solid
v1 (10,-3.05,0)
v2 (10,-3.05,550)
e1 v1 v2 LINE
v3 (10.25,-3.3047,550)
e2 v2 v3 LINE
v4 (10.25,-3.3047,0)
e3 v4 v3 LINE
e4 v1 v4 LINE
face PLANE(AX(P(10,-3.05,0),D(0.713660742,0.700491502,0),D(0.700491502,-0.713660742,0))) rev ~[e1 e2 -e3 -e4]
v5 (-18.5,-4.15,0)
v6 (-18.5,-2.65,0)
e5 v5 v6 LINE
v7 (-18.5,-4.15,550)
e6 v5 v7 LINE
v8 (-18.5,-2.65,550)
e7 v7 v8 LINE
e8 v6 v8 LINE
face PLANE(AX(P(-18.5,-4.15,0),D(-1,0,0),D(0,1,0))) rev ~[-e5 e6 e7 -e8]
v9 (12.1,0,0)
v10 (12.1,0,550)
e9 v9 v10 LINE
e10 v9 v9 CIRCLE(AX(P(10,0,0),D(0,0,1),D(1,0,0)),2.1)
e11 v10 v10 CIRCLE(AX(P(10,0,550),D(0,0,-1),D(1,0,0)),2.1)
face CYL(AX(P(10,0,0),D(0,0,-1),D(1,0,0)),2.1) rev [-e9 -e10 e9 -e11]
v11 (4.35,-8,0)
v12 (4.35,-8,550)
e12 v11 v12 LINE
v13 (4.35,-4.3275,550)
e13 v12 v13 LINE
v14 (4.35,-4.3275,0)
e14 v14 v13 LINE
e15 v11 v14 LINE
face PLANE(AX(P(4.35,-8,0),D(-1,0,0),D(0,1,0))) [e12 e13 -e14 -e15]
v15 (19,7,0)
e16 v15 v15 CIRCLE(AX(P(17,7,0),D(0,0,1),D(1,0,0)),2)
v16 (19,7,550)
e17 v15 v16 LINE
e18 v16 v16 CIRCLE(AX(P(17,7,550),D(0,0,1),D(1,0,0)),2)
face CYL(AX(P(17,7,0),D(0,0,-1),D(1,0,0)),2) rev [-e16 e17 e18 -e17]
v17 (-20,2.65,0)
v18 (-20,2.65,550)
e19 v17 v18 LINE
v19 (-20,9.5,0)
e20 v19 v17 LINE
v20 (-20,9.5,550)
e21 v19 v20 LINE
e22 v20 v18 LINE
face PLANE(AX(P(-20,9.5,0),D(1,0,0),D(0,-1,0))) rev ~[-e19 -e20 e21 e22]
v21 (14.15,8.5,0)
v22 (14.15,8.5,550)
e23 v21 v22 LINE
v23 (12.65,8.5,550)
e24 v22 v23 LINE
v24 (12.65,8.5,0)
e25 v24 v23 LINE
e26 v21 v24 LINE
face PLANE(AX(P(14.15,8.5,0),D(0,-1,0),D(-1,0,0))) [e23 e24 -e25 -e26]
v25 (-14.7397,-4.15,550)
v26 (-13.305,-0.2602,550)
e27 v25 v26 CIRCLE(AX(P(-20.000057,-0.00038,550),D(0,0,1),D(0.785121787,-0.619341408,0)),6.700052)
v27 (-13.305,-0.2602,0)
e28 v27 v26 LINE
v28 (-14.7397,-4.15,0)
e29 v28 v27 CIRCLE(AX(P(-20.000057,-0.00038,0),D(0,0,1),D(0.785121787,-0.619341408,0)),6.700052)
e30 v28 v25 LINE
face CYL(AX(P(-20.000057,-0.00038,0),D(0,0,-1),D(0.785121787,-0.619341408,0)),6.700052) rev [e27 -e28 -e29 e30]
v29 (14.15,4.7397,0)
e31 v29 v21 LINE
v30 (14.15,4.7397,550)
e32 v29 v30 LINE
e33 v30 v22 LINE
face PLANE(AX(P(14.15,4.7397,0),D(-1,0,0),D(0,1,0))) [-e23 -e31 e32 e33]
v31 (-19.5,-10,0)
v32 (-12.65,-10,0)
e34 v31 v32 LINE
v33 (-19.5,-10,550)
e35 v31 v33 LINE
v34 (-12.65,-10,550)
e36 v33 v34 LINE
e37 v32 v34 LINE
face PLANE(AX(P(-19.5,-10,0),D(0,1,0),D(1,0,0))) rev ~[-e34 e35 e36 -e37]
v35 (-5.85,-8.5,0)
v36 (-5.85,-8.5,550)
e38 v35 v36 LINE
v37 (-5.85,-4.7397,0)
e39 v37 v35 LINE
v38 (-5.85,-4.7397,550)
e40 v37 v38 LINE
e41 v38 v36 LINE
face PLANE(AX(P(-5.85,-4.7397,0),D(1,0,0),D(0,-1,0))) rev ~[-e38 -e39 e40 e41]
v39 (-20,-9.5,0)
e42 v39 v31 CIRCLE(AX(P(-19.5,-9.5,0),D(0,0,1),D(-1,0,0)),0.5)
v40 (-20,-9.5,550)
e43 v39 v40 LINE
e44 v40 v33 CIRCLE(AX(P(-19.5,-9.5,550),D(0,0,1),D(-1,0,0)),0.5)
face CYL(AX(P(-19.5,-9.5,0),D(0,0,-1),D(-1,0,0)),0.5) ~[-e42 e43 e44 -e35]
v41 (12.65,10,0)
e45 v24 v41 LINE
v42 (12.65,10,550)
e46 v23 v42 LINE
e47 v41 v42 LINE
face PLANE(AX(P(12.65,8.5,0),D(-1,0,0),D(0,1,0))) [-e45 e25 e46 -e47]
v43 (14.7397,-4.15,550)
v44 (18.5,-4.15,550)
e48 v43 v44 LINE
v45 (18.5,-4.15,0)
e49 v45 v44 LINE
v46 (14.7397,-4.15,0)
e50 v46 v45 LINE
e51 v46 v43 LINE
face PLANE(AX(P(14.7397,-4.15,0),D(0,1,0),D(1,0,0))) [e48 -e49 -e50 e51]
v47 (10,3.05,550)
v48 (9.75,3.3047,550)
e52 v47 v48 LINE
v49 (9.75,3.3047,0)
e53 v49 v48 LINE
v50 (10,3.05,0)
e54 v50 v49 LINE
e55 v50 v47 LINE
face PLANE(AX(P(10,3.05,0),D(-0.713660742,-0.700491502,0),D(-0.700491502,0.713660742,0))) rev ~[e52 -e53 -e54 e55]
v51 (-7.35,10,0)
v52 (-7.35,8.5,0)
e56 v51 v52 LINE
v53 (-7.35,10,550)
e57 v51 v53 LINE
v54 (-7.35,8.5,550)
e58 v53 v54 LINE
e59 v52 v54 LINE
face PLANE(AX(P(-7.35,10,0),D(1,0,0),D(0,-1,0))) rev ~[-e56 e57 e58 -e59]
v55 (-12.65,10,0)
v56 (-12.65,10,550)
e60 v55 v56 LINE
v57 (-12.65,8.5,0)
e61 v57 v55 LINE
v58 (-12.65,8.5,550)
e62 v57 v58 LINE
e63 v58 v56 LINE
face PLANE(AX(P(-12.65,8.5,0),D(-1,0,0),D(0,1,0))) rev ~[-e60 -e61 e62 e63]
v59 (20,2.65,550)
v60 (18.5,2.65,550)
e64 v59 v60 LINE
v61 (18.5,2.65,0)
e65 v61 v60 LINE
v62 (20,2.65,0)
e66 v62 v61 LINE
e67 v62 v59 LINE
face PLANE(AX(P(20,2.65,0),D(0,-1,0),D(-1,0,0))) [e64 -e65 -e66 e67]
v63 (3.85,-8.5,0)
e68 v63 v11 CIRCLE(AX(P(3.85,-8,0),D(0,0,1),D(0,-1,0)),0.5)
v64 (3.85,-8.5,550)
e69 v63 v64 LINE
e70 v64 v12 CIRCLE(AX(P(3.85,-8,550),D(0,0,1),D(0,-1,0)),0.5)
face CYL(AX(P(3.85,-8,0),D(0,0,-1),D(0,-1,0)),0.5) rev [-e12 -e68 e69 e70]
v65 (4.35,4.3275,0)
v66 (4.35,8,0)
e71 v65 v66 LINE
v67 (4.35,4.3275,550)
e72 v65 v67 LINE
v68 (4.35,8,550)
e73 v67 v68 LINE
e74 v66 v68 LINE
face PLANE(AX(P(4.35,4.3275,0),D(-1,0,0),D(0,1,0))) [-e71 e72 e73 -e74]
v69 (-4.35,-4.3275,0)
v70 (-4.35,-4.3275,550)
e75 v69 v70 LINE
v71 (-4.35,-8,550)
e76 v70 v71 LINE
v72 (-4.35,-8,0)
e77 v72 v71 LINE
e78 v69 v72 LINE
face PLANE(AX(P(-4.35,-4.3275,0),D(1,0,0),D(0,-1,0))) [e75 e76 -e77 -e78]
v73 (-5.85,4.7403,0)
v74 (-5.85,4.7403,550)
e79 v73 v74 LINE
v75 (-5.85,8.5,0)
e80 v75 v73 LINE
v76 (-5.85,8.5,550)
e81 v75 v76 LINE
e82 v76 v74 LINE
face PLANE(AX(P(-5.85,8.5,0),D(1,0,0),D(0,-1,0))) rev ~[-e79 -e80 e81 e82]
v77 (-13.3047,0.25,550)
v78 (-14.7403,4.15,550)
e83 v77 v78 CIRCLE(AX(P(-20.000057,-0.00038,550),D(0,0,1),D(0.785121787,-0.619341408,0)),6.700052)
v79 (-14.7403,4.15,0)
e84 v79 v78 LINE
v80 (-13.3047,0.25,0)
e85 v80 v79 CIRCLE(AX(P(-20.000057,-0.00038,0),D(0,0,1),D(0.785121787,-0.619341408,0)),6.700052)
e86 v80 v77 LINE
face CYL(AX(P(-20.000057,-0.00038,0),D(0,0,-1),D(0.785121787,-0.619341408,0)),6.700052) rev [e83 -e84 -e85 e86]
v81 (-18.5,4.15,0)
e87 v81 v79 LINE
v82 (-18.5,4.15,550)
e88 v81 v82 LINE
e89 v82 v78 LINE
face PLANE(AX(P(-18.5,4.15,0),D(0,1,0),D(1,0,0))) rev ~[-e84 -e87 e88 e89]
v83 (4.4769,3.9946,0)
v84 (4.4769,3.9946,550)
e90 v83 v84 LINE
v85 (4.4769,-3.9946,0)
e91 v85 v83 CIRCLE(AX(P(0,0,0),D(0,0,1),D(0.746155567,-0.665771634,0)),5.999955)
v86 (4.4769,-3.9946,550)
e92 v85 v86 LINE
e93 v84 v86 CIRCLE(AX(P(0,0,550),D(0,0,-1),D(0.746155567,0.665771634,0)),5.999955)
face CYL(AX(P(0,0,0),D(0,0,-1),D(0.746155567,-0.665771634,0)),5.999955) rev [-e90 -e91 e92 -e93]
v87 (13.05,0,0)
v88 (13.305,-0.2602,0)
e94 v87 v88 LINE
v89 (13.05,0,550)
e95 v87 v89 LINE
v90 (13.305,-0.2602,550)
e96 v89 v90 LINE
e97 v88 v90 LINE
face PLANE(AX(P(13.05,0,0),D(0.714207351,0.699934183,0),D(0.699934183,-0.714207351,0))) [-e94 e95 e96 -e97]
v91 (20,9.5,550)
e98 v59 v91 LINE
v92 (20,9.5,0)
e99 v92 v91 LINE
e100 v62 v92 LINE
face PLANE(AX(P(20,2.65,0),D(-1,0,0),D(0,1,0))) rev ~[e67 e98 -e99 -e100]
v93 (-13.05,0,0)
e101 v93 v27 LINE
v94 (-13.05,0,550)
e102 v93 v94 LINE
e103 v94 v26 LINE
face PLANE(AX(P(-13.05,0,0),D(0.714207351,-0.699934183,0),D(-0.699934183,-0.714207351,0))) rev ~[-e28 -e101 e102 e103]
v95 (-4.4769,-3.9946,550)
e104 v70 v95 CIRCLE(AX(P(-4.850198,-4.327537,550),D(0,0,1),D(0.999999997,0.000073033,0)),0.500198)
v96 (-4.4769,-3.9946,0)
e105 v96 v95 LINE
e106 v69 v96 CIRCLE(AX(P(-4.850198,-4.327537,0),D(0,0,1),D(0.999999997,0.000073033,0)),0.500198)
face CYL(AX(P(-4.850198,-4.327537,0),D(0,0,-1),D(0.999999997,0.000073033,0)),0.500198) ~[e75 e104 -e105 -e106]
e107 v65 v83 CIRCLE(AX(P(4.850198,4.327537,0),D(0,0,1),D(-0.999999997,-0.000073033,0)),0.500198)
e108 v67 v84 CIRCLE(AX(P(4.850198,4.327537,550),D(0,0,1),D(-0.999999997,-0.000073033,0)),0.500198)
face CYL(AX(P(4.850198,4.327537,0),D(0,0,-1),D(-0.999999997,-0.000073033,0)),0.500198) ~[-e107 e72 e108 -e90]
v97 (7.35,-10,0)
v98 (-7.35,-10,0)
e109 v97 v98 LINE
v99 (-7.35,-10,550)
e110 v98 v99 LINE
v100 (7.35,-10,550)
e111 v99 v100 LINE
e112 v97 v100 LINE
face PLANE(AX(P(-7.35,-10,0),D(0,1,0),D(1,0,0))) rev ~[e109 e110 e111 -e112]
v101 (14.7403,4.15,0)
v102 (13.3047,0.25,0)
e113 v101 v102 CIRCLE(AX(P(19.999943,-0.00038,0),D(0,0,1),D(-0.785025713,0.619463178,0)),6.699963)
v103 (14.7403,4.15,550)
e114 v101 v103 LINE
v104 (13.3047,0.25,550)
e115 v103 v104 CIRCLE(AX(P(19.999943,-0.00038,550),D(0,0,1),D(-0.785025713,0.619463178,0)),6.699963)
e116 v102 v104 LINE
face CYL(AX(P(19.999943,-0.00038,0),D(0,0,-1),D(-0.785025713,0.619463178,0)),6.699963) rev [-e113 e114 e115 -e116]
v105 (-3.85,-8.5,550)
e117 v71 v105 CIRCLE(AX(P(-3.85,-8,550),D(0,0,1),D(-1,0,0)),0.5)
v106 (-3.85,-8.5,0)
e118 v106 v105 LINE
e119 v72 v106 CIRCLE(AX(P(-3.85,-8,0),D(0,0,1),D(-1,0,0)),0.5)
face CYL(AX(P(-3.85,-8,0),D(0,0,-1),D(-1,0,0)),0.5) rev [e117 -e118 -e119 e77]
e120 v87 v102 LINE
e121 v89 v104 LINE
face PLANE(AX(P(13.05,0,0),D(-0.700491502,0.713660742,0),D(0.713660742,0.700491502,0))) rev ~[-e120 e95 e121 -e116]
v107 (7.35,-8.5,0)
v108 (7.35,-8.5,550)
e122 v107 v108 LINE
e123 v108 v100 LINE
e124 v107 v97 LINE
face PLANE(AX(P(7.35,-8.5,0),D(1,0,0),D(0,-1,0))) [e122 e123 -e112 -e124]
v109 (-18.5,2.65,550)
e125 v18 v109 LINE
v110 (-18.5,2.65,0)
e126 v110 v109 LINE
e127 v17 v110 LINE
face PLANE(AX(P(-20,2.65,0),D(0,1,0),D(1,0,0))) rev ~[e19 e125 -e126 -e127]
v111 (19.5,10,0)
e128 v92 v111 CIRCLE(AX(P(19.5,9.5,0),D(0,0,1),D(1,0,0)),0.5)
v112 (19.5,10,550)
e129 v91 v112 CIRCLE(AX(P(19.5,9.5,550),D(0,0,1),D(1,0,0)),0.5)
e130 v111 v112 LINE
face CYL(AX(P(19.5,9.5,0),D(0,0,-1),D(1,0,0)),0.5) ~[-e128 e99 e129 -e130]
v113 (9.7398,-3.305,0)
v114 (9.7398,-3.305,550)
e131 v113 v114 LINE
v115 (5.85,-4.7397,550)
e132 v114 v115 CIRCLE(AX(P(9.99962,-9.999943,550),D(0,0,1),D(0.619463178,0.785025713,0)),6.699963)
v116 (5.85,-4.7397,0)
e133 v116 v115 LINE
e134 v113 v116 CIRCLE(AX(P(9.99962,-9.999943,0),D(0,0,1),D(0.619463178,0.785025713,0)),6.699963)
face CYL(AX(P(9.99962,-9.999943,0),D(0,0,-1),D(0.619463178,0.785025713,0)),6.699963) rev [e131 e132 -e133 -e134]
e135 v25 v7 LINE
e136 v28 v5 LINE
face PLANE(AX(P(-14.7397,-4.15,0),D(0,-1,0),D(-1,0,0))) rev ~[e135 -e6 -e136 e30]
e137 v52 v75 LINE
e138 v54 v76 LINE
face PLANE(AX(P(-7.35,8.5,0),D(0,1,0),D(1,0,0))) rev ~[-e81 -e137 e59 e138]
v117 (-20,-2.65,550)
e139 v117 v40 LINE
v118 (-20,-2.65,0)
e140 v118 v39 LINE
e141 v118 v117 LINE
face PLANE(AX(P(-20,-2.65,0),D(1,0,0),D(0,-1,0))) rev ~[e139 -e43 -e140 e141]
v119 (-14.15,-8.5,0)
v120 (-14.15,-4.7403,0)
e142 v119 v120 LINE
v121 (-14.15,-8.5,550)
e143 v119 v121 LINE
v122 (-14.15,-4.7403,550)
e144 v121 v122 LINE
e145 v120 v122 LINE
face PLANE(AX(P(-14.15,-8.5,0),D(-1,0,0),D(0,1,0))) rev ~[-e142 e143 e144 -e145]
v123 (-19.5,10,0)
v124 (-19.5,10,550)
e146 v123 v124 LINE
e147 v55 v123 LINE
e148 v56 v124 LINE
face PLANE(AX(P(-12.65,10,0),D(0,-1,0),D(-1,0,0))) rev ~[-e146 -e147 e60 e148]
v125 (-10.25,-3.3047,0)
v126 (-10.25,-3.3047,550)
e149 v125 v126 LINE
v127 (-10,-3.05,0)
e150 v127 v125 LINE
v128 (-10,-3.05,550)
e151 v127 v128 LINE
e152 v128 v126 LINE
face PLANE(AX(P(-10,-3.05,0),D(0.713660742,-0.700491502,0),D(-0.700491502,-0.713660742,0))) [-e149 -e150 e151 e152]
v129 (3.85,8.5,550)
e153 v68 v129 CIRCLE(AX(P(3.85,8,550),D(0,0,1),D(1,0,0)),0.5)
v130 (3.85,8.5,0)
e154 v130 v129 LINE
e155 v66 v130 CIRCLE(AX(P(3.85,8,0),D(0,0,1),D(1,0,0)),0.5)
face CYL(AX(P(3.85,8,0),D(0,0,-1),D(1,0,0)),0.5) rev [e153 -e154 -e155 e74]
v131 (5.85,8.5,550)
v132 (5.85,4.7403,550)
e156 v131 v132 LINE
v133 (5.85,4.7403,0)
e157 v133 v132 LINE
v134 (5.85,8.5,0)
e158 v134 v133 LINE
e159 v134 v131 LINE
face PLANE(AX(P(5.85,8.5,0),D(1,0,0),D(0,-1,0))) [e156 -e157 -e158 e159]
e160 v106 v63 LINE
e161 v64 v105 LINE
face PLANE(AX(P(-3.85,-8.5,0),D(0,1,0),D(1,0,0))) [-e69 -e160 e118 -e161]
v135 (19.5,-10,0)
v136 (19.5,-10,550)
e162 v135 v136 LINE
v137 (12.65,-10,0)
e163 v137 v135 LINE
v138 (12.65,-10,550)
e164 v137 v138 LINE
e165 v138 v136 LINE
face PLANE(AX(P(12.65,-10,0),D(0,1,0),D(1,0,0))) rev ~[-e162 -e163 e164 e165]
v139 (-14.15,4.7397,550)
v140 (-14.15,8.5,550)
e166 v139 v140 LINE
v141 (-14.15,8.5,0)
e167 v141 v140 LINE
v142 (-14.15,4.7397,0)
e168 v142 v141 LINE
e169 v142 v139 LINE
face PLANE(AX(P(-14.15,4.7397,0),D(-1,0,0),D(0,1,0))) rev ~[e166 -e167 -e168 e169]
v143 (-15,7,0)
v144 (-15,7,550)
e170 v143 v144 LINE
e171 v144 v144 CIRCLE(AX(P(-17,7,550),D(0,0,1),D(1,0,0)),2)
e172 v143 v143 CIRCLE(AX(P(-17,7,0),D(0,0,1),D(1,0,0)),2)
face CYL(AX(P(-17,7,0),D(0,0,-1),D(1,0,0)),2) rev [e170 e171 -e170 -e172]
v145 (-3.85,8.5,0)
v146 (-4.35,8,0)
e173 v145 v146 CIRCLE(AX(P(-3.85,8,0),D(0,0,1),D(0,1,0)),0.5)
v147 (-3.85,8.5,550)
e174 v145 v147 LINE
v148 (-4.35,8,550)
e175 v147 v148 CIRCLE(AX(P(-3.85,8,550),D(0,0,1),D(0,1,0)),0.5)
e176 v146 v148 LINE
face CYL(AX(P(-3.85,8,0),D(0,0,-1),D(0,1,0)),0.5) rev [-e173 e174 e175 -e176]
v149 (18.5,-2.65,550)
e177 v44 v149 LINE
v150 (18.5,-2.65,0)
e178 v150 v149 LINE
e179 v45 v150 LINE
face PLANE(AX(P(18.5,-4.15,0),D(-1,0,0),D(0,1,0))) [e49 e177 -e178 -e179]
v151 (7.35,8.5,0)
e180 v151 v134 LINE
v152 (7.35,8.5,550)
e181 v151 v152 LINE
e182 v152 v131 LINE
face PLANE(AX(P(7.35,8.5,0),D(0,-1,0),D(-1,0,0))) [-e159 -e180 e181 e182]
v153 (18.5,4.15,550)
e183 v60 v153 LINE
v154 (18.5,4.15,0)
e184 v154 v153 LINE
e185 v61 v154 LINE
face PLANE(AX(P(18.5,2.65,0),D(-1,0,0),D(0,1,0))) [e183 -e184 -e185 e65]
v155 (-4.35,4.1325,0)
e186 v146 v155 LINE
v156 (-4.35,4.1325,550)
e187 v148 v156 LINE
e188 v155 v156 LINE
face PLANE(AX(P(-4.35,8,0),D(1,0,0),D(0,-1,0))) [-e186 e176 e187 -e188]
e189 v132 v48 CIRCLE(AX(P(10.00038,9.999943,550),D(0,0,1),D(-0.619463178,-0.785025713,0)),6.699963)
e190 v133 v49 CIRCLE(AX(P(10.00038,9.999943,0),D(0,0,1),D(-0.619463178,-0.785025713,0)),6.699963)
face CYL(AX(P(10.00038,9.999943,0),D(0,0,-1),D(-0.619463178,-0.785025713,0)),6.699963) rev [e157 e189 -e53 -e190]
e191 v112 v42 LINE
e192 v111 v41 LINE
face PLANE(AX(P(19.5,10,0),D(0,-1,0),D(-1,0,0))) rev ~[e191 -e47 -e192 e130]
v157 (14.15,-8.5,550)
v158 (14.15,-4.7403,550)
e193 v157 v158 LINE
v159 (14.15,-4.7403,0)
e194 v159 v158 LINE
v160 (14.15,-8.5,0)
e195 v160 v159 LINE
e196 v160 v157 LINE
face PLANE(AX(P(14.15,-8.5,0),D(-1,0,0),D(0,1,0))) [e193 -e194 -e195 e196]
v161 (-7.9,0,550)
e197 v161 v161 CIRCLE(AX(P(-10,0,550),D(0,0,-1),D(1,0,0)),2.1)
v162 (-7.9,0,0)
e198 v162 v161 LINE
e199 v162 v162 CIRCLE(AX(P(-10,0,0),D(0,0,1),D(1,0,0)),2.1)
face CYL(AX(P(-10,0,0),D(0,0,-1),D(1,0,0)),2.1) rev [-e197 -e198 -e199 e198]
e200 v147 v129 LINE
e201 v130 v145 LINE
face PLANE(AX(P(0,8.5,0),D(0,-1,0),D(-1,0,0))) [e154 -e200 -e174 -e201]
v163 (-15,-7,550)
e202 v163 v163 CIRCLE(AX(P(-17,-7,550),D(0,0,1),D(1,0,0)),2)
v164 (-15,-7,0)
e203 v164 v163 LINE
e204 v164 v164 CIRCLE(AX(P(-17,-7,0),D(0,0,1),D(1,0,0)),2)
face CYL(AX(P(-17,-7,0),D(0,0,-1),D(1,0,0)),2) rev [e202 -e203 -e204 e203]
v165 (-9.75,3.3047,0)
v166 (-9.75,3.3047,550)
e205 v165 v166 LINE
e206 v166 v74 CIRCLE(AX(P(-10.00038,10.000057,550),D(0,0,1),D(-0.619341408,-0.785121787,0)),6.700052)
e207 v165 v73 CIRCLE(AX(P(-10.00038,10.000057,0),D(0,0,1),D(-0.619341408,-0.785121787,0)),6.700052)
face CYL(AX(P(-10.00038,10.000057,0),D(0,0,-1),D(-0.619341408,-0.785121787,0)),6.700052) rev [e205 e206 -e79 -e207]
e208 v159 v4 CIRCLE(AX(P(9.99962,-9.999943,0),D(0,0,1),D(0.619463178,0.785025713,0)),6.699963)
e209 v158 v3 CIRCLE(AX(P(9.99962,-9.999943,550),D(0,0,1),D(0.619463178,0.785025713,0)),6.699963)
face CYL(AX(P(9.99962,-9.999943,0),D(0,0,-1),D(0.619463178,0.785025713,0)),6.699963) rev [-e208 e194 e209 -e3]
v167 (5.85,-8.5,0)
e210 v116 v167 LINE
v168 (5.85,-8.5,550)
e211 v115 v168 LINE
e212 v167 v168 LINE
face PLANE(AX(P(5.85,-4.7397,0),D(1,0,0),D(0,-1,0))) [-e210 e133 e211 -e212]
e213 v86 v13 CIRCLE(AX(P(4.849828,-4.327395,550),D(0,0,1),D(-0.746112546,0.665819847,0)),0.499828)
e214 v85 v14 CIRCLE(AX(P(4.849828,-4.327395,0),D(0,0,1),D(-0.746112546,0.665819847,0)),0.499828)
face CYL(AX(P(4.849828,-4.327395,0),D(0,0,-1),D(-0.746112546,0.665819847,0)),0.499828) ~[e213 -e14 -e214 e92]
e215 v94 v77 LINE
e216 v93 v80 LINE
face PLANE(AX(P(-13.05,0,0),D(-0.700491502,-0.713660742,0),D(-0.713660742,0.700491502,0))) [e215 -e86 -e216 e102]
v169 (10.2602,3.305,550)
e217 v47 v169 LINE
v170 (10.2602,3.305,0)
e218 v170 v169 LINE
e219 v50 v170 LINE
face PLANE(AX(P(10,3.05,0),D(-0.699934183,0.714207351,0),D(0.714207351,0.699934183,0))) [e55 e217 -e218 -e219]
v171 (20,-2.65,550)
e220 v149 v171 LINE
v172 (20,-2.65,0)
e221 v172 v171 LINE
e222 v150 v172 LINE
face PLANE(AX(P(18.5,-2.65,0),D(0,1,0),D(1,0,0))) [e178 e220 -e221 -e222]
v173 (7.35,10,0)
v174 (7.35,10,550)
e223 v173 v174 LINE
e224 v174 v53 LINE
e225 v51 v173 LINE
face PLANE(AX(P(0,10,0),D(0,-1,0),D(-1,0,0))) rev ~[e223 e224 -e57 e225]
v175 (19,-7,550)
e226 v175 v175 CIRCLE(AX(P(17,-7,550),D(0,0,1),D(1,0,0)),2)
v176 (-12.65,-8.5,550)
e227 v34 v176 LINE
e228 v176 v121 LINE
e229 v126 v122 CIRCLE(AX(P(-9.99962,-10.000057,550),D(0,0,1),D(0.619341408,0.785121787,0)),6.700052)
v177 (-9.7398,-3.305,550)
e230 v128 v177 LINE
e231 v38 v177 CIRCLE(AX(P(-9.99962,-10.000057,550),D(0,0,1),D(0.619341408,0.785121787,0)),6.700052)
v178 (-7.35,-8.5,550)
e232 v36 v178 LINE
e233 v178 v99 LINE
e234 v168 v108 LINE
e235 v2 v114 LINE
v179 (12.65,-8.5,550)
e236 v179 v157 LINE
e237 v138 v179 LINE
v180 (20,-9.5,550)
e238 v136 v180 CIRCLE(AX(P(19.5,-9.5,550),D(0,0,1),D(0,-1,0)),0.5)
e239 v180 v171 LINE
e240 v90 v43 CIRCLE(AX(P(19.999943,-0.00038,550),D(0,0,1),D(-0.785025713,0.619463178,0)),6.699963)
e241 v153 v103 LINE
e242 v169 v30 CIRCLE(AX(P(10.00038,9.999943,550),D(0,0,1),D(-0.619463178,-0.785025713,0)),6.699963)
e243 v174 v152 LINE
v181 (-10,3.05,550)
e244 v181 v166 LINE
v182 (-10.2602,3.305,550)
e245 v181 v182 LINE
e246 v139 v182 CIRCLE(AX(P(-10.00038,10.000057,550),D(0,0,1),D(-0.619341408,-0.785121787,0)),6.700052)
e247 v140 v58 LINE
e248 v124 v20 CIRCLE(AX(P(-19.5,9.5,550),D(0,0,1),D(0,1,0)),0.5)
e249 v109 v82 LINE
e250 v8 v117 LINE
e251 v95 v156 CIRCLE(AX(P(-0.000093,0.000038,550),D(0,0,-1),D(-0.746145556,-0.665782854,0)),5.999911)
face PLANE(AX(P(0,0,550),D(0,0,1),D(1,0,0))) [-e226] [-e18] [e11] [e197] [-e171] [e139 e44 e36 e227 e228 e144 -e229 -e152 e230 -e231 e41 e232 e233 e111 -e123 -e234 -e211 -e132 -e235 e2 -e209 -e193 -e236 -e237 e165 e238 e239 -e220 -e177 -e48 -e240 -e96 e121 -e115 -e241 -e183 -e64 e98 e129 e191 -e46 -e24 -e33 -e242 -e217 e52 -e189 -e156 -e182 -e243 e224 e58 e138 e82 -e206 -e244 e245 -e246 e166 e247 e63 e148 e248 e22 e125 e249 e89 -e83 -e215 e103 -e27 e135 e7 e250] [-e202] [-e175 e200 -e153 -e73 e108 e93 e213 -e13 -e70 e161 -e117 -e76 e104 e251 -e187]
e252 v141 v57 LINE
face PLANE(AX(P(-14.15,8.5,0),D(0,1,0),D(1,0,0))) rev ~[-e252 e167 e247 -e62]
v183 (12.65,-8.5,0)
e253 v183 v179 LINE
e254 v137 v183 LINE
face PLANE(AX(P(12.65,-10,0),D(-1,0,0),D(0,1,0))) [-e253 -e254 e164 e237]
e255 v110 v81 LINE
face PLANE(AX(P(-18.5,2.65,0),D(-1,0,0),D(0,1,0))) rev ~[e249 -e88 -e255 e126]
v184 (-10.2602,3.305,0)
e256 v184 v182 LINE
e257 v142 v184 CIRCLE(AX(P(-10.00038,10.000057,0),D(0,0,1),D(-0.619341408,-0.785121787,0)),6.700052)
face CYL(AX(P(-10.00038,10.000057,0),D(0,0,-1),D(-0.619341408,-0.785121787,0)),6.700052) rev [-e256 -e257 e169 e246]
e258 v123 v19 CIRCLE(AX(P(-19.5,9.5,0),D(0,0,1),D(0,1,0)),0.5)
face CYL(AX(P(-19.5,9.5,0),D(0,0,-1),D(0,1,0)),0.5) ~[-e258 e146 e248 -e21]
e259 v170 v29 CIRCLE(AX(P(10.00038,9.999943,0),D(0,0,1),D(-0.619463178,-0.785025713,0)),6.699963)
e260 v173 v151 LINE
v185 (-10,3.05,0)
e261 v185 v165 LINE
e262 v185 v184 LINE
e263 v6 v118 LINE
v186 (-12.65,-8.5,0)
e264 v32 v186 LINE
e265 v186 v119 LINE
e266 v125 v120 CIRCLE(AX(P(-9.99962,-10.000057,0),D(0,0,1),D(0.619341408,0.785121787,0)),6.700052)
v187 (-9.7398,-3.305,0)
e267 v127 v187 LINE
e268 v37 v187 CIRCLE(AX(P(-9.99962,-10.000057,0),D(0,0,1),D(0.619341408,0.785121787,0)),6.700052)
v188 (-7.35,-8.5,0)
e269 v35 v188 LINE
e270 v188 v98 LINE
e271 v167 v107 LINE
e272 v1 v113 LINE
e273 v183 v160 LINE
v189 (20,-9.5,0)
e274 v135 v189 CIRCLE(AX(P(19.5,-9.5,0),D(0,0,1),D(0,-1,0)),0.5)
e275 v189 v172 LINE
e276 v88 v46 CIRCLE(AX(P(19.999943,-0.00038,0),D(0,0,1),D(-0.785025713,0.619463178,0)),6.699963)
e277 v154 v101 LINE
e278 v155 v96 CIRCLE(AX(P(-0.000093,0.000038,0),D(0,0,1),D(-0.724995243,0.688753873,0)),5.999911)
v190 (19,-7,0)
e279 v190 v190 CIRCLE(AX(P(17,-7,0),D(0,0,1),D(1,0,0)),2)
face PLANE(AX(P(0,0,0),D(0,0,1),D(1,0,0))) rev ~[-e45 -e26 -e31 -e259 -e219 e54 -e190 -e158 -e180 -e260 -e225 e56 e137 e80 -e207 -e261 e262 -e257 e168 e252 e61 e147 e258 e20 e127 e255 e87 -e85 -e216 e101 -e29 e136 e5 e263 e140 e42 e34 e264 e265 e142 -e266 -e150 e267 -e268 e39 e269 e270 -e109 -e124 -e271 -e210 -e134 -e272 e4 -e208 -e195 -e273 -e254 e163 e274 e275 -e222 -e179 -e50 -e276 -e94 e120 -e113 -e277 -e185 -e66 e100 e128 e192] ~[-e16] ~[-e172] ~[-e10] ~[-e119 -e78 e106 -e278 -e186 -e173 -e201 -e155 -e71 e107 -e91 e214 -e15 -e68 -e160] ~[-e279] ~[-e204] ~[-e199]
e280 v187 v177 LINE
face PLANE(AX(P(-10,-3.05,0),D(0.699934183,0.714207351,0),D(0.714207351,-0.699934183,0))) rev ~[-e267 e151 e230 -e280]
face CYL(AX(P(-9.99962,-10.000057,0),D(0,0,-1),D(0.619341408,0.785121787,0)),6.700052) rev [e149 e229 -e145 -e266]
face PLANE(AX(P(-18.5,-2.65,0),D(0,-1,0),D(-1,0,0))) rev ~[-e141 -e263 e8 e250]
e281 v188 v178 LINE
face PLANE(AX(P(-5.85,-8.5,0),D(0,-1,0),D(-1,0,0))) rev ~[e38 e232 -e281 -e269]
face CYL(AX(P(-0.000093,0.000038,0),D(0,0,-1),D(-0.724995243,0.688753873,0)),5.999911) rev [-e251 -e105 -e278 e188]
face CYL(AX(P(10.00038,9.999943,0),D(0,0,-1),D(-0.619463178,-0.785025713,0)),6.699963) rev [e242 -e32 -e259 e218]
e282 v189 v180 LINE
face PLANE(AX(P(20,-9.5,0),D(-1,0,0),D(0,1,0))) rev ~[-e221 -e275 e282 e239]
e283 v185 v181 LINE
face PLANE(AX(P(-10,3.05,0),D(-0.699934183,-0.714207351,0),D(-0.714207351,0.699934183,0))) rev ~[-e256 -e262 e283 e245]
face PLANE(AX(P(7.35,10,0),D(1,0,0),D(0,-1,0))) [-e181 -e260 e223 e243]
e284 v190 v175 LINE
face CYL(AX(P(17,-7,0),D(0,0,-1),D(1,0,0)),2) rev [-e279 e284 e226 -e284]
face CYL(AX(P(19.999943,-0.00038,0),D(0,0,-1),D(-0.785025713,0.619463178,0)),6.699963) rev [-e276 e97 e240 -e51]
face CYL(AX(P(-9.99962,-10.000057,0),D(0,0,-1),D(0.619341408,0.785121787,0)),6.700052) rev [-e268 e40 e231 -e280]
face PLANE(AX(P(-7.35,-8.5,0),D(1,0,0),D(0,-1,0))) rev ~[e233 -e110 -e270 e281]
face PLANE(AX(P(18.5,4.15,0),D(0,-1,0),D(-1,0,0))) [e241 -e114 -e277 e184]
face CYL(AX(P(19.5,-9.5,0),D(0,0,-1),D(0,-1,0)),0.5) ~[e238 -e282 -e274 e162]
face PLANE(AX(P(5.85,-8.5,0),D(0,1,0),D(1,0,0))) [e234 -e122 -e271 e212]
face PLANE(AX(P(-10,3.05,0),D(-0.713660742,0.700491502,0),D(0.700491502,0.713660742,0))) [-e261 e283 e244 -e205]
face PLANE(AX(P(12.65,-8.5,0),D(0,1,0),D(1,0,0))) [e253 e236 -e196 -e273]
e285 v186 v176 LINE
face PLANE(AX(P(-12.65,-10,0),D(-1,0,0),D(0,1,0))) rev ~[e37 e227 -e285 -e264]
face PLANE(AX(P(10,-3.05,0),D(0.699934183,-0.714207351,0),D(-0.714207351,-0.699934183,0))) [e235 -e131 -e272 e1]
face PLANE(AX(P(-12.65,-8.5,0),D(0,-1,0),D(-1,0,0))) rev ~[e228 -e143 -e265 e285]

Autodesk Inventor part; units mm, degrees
ref_plane "YZ Plane" through (0, 0, 0) normal (1, 0, 0) x (0, 1, 0)
ref_plane "XZ Plane" through (0, 0, 0) normal (0, 1, 0) x (-1, 0, 0)
ref_plane "XY Plane" through (0, 0, 0) normal (0, 0, 1) x (1, 0, 0)
sketch "스케치1" plane through (0, 0, 0) normal (0, 0, 1) x (1, 0, 0)
  line L0 (-19.5, -10) -> (19.5, -10)
  line L1 (20, -9.5) -> (20, 9.5)
  line L2 (19.5, 10) -> (-19.5, 10)
  line L3 (-20, 9.5) -> (-20, -9.5)
  circle A0 centre (-17, 7) radius 2
  line L4 (0, -12.143) -> (0, 11.1651)
  line L5 (28.9925, 0) -> (-24.8769, 0)
  circle A1 centre (-10, 0) radius 2.1
  line L6 (-10, 12.7543) -> (-10, -12.5913)
  line L7 (10, -12.5913) -> (10, 12.7543)
  circle A2 centre (10, 0) radius 2.1
  line L8 (-12.65, -10) -> (-12.65, -8.5)
  line L9 (-12.65, -8.5) -> (-14.15, -8.5)
  line L10 (-14.15, -8.5) -> (-14.15, -4.7403)
  line L11 (-5.85, -4.7397) -> (-5.85, -8.5)
  line L12 (-5.85, -8.5) -> (-7.35, -8.5)
  line L13 (-7.35, -8.5) -> (-7.35, -10)
  arc A3 (-5.85, -4.7397) -> (-14.15, -4.7403) centre (-9.9996, -10) ccw
  line L14 (-10, -3.05) -> (-10.25, -3.3047)
  line L15 (-10, -3.05) -> (-9.7398, -3.305)
  line L16 (12.65, -10) -> (12.65, -8.5)
  line L17 (12.65, -8.5) -> (14.15, -8.5)
  line L18 (14.15, -8.5) -> (14.15, -4.7403)
  line L19 (5.85, -4.7397) -> (5.85, -8.5)
  line L20 (5.85, -8.5) -> (7.35, -8.5)
  line L21 (7.35, -8.5) -> (7.35, -10)
  arc A4 (14.15, -4.7403) -> (5.85, -4.7397) centre (9.9996, -10) ccw
  line L22 (10, -3.05) -> (10.25, -3.3047)
  line L23 (10, -3.05) -> (9.7398, -3.305)
  line L24 (-20, 2.65) -> (-18.5, 2.65)
  line L25 (-18.5, 2.65) -> (-18.5, 4.15)
  line L26 (-18.5, 4.15) -> (-14.7403, 4.15)
  line L27 (-14.7397, -4.15) -> (-18.5, -4.15)
  line L28 (-18.5, -4.15) -> (-18.5, -2.65)
  line L29 (-18.5, -2.65) -> (-20, -2.65)
  line L30 (-13.05, 0) -> (-13.305, -0.2602)
  line L31 (-13.05, 0) -> (-13.3047, 0.25)
  arc A5 (-14.7397, -4.15) -> (-14.7403, 4.15) centre (-20, -0.0004) ccw
  line L32 (-7.35, 10) -> (-7.35, 8.5)
  line L33 (-7.35, 8.5) -> (-5.85, 8.5)
  line L34 (-5.85, 8.5) -> (-5.85, 4.7403)
  line L35 (-14.15, 4.7397) -> (-14.15, 8.5)
  line L36 (-14.15, 8.5) -> (-12.65, 8.5)
  line L37 (-12.65, 8.5) -> (-12.65, 10)
  line L38 (-10, 3.05) -> (-10.2602, 3.305)
  line L39 (-10, 3.05) -> (-9.75, 3.3047)
  arc A6 (-14.15, 4.7397) -> (-5.85, 4.7403) centre (-10.0004, 10) ccw
  line L40 (14.7397, -4.15) -> (18.5, -4.15)
  line L41 (18.5, -4.15) -> (18.5, -2.65)
  line L42 (18.5, -2.65) -> (20, -2.65)
  arc A7 (14.7403, 4.15) -> (14.7397, -4.15) centre (20, -0.0004) ccw
  line L43 (20, 2.65) -> (18.5, 2.65)
  line L44 (18.5, 2.65) -> (18.5, 4.15)
  line L45 (18.5, 4.15) -> (14.7403, 4.15)
  line L46 (13.05, 0) -> (13.305, -0.2602)
  line L47 (13.05, 0) -> (13.3047, 0.25)
  line L48 (14.15, 4.7397) -> (14.15, 8.5)
  line L49 (14.15, 8.5) -> (12.65, 8.5)
  line L50 (12.65, 8.5) -> (12.65, 10)
  arc A8 (5.85, 4.7403) -> (14.15, 4.7397) centre (10.0004, 10) ccw
  line L51 (7.35, 10) -> (7.35, 8.5)
  line L52 (7.35, 8.5) -> (5.85, 8.5)
  line L53 (5.85, 8.5) -> (5.85, 4.7403)
  line L54 (10, 3.05) -> (10.2602, 3.305)
  line L55 (10, 3.05) -> (9.75, 3.3047)
  circle A9 centre (-17, -7) radius 2
  circle A10 centre (17, 7) radius 2
  circle A11 centre (17, -7) radius 2
  line L56 (-3.85, -8.5) -> (3.85, -8.5)
  line L57 (3.85, 8.5) -> (-3.85, 8.5)
  line L58 (-4.35, -8.5) -> (4.35, 8.5) construction
  line L59 (4.35, -8.5) -> (-4.35, 8.5) construction
  arc A12 (-3.85, 8.5) -> (-4.35, 8) centre (-3.85, 8) ccw
  arc A13 (4.35, 8) -> (3.85, 8.5) centre (3.85, 8) ccw
  arc A14 (3.85, -8.5) -> (4.35, -8) centre (3.85, -8) ccw
  arc A15 (-4.35, -8) -> (-3.85, -8.5) centre (-3.85, -8) ccw
  line L60 (-4.35, 8) -> (-4.35, 4.1325)
  line L61 (-4.35, -4.3275) -> (-4.35, -8)
  line L62 (4.35, -8) -> (4.35, -4.3275)
  line L63 (4.35, 4.3275) -> (4.35, 8)
  arc A16 (4.4769, -3.9946) -> (4.4769, 3.9946) centre (0, 0) ccw
  arc A17 (-4.35, 4.1325) -> (-4.4769, -3.9946) centre (0, 0) ccw
  arc A18 (-4.35, -4.3275) -> (-4.4769, -3.9946) centre (-4.85, -4.3275) ccw
  arc A19 (4.35, 4.3275) -> (4.4769, 3.9946) centre (4.85, 4.3275) ccw
  arc A20 (4.4769, -3.9946) -> (4.35, -4.3275) centre (4.85, -4.3275) ccw
  arc A21 (-19.5, 10) -> (-20, 9.5) centre (-19.5, 9.5) ccw
  arc A22 (-20, -9.5) -> (-19.5, -10) centre (-19.5, -9.5) ccw
  arc A23 (19.5, -10) -> (20, -9.5) centre (19.5, -9.5) ccw
  arc A24 (20, 9.5) -> (19.5, 10) centre (19.5, 9.5) ccw
  point P0 (20, 10)
  point P1 (20, -10)
  point P2 (-20, 10)
  point P3 (-14.15, -6.6202)
  point P4 (-12.65, -9.25)
  point P5 (-10.0001, -3.3)
  point P6 (14.15, -6.6202)
  point P7 (12.65, -9.25)
  point P8 (10.0001, -3.3)
  point P9 (-19.25, 2.65)
  point P10 (-16.6202, 4.15)
  point P11 (-13.3, 0.0001)
  point P12 (-7.35, 9.25)
  point P13 (-5.85, 6.6202)
  point P14 (-9.9999, 3.3)
  point P15 (13.3, 0.0001)
  point P16 (19.25, 2.65)
  point P17 (16.6202, 4.15)
  point P18 (22.5913, 0)
  point P19 (9.9999, 3.3)
  point P20 (7.35, 9.25)
  point P21 (5.85, 6.6202)
  point P22 (10, 12.5913)
  point P23 (-5.85, -6.6199)
  point P24 (-4.35, -4.1325)
  point P25 (4.35, -4.1325)
  point P26 (4.35, 4.1325)
  point P27 (4.35, 6.1638)
  point P28 (-4.35, 6.0662)
  dimension "d0" = 40
  dimension "d1" = 20
  dimension "d2" = 4
  dimension "d3" = 34
  dimension "d4" = 14
  dimension "d5" = 4.2
  dimension "d6" = 20
  dimension "d8" = 4.2
  dimension "d9" = 20
  dimension "d12" = 1.5
  dimension "d13" = 6.7
  dimension "d14" = 8.3
  dimension "d15" = 5.3
  dimension "d16" = 5.3
  dimension "d17" = 8.3
  dimension "d18" = 6.7
  dimension "d19" = 0.5
  dimension "d20" = 0.25
  dimension "d23" = 180
  dimension "d27" = 180
  dimension "d29" = 1.5
  dimension "d31" = 1.5
  dimension "d32" = 0.5
  dimension "d33" = 0.5
  dimension "d34" = 0.5
  dimension "d35" = 8.7
extrude "돌출1" add sketch "스케치1" along normal blind 550 contours A22 L3 L29 L28 L27 A5 L30 L5 A1 L6 L14 A3 L10 L9 L8 L0 | L13 L12 L11 A3 L15 L6 A1 L5 A17 A18 L61 A15 L56 L4 L0 | L4 L56 A14 L62 A20 A16 L5 A2 L7 L23 A4 L19 L20 L21 L0 | L3 A21 L2 L37 L36 L35 A6 L38 L6 A1 L5 L31 A5 L26 L25 L24 | A1 L6 L39 A6 L34 L33 L32 L2 L4 L57 A12 L60 A17 L5 | L16 L17 L18 A4 L22 L7 A2 L5 L46 A7 L40 L41 L42 L1 A23 L0 | L4 L2 L51 L52 L53 A8 L55 L7 A2 L5 A16 A19 L63 A13 L57 | L7 L54 A8 L48 L49 L50 L2 A24 L1 L43 L44 L45 A7 L47 L5 A2
equation "\"d8\" = d5"
properties part number "550mm 20x40 profile"
